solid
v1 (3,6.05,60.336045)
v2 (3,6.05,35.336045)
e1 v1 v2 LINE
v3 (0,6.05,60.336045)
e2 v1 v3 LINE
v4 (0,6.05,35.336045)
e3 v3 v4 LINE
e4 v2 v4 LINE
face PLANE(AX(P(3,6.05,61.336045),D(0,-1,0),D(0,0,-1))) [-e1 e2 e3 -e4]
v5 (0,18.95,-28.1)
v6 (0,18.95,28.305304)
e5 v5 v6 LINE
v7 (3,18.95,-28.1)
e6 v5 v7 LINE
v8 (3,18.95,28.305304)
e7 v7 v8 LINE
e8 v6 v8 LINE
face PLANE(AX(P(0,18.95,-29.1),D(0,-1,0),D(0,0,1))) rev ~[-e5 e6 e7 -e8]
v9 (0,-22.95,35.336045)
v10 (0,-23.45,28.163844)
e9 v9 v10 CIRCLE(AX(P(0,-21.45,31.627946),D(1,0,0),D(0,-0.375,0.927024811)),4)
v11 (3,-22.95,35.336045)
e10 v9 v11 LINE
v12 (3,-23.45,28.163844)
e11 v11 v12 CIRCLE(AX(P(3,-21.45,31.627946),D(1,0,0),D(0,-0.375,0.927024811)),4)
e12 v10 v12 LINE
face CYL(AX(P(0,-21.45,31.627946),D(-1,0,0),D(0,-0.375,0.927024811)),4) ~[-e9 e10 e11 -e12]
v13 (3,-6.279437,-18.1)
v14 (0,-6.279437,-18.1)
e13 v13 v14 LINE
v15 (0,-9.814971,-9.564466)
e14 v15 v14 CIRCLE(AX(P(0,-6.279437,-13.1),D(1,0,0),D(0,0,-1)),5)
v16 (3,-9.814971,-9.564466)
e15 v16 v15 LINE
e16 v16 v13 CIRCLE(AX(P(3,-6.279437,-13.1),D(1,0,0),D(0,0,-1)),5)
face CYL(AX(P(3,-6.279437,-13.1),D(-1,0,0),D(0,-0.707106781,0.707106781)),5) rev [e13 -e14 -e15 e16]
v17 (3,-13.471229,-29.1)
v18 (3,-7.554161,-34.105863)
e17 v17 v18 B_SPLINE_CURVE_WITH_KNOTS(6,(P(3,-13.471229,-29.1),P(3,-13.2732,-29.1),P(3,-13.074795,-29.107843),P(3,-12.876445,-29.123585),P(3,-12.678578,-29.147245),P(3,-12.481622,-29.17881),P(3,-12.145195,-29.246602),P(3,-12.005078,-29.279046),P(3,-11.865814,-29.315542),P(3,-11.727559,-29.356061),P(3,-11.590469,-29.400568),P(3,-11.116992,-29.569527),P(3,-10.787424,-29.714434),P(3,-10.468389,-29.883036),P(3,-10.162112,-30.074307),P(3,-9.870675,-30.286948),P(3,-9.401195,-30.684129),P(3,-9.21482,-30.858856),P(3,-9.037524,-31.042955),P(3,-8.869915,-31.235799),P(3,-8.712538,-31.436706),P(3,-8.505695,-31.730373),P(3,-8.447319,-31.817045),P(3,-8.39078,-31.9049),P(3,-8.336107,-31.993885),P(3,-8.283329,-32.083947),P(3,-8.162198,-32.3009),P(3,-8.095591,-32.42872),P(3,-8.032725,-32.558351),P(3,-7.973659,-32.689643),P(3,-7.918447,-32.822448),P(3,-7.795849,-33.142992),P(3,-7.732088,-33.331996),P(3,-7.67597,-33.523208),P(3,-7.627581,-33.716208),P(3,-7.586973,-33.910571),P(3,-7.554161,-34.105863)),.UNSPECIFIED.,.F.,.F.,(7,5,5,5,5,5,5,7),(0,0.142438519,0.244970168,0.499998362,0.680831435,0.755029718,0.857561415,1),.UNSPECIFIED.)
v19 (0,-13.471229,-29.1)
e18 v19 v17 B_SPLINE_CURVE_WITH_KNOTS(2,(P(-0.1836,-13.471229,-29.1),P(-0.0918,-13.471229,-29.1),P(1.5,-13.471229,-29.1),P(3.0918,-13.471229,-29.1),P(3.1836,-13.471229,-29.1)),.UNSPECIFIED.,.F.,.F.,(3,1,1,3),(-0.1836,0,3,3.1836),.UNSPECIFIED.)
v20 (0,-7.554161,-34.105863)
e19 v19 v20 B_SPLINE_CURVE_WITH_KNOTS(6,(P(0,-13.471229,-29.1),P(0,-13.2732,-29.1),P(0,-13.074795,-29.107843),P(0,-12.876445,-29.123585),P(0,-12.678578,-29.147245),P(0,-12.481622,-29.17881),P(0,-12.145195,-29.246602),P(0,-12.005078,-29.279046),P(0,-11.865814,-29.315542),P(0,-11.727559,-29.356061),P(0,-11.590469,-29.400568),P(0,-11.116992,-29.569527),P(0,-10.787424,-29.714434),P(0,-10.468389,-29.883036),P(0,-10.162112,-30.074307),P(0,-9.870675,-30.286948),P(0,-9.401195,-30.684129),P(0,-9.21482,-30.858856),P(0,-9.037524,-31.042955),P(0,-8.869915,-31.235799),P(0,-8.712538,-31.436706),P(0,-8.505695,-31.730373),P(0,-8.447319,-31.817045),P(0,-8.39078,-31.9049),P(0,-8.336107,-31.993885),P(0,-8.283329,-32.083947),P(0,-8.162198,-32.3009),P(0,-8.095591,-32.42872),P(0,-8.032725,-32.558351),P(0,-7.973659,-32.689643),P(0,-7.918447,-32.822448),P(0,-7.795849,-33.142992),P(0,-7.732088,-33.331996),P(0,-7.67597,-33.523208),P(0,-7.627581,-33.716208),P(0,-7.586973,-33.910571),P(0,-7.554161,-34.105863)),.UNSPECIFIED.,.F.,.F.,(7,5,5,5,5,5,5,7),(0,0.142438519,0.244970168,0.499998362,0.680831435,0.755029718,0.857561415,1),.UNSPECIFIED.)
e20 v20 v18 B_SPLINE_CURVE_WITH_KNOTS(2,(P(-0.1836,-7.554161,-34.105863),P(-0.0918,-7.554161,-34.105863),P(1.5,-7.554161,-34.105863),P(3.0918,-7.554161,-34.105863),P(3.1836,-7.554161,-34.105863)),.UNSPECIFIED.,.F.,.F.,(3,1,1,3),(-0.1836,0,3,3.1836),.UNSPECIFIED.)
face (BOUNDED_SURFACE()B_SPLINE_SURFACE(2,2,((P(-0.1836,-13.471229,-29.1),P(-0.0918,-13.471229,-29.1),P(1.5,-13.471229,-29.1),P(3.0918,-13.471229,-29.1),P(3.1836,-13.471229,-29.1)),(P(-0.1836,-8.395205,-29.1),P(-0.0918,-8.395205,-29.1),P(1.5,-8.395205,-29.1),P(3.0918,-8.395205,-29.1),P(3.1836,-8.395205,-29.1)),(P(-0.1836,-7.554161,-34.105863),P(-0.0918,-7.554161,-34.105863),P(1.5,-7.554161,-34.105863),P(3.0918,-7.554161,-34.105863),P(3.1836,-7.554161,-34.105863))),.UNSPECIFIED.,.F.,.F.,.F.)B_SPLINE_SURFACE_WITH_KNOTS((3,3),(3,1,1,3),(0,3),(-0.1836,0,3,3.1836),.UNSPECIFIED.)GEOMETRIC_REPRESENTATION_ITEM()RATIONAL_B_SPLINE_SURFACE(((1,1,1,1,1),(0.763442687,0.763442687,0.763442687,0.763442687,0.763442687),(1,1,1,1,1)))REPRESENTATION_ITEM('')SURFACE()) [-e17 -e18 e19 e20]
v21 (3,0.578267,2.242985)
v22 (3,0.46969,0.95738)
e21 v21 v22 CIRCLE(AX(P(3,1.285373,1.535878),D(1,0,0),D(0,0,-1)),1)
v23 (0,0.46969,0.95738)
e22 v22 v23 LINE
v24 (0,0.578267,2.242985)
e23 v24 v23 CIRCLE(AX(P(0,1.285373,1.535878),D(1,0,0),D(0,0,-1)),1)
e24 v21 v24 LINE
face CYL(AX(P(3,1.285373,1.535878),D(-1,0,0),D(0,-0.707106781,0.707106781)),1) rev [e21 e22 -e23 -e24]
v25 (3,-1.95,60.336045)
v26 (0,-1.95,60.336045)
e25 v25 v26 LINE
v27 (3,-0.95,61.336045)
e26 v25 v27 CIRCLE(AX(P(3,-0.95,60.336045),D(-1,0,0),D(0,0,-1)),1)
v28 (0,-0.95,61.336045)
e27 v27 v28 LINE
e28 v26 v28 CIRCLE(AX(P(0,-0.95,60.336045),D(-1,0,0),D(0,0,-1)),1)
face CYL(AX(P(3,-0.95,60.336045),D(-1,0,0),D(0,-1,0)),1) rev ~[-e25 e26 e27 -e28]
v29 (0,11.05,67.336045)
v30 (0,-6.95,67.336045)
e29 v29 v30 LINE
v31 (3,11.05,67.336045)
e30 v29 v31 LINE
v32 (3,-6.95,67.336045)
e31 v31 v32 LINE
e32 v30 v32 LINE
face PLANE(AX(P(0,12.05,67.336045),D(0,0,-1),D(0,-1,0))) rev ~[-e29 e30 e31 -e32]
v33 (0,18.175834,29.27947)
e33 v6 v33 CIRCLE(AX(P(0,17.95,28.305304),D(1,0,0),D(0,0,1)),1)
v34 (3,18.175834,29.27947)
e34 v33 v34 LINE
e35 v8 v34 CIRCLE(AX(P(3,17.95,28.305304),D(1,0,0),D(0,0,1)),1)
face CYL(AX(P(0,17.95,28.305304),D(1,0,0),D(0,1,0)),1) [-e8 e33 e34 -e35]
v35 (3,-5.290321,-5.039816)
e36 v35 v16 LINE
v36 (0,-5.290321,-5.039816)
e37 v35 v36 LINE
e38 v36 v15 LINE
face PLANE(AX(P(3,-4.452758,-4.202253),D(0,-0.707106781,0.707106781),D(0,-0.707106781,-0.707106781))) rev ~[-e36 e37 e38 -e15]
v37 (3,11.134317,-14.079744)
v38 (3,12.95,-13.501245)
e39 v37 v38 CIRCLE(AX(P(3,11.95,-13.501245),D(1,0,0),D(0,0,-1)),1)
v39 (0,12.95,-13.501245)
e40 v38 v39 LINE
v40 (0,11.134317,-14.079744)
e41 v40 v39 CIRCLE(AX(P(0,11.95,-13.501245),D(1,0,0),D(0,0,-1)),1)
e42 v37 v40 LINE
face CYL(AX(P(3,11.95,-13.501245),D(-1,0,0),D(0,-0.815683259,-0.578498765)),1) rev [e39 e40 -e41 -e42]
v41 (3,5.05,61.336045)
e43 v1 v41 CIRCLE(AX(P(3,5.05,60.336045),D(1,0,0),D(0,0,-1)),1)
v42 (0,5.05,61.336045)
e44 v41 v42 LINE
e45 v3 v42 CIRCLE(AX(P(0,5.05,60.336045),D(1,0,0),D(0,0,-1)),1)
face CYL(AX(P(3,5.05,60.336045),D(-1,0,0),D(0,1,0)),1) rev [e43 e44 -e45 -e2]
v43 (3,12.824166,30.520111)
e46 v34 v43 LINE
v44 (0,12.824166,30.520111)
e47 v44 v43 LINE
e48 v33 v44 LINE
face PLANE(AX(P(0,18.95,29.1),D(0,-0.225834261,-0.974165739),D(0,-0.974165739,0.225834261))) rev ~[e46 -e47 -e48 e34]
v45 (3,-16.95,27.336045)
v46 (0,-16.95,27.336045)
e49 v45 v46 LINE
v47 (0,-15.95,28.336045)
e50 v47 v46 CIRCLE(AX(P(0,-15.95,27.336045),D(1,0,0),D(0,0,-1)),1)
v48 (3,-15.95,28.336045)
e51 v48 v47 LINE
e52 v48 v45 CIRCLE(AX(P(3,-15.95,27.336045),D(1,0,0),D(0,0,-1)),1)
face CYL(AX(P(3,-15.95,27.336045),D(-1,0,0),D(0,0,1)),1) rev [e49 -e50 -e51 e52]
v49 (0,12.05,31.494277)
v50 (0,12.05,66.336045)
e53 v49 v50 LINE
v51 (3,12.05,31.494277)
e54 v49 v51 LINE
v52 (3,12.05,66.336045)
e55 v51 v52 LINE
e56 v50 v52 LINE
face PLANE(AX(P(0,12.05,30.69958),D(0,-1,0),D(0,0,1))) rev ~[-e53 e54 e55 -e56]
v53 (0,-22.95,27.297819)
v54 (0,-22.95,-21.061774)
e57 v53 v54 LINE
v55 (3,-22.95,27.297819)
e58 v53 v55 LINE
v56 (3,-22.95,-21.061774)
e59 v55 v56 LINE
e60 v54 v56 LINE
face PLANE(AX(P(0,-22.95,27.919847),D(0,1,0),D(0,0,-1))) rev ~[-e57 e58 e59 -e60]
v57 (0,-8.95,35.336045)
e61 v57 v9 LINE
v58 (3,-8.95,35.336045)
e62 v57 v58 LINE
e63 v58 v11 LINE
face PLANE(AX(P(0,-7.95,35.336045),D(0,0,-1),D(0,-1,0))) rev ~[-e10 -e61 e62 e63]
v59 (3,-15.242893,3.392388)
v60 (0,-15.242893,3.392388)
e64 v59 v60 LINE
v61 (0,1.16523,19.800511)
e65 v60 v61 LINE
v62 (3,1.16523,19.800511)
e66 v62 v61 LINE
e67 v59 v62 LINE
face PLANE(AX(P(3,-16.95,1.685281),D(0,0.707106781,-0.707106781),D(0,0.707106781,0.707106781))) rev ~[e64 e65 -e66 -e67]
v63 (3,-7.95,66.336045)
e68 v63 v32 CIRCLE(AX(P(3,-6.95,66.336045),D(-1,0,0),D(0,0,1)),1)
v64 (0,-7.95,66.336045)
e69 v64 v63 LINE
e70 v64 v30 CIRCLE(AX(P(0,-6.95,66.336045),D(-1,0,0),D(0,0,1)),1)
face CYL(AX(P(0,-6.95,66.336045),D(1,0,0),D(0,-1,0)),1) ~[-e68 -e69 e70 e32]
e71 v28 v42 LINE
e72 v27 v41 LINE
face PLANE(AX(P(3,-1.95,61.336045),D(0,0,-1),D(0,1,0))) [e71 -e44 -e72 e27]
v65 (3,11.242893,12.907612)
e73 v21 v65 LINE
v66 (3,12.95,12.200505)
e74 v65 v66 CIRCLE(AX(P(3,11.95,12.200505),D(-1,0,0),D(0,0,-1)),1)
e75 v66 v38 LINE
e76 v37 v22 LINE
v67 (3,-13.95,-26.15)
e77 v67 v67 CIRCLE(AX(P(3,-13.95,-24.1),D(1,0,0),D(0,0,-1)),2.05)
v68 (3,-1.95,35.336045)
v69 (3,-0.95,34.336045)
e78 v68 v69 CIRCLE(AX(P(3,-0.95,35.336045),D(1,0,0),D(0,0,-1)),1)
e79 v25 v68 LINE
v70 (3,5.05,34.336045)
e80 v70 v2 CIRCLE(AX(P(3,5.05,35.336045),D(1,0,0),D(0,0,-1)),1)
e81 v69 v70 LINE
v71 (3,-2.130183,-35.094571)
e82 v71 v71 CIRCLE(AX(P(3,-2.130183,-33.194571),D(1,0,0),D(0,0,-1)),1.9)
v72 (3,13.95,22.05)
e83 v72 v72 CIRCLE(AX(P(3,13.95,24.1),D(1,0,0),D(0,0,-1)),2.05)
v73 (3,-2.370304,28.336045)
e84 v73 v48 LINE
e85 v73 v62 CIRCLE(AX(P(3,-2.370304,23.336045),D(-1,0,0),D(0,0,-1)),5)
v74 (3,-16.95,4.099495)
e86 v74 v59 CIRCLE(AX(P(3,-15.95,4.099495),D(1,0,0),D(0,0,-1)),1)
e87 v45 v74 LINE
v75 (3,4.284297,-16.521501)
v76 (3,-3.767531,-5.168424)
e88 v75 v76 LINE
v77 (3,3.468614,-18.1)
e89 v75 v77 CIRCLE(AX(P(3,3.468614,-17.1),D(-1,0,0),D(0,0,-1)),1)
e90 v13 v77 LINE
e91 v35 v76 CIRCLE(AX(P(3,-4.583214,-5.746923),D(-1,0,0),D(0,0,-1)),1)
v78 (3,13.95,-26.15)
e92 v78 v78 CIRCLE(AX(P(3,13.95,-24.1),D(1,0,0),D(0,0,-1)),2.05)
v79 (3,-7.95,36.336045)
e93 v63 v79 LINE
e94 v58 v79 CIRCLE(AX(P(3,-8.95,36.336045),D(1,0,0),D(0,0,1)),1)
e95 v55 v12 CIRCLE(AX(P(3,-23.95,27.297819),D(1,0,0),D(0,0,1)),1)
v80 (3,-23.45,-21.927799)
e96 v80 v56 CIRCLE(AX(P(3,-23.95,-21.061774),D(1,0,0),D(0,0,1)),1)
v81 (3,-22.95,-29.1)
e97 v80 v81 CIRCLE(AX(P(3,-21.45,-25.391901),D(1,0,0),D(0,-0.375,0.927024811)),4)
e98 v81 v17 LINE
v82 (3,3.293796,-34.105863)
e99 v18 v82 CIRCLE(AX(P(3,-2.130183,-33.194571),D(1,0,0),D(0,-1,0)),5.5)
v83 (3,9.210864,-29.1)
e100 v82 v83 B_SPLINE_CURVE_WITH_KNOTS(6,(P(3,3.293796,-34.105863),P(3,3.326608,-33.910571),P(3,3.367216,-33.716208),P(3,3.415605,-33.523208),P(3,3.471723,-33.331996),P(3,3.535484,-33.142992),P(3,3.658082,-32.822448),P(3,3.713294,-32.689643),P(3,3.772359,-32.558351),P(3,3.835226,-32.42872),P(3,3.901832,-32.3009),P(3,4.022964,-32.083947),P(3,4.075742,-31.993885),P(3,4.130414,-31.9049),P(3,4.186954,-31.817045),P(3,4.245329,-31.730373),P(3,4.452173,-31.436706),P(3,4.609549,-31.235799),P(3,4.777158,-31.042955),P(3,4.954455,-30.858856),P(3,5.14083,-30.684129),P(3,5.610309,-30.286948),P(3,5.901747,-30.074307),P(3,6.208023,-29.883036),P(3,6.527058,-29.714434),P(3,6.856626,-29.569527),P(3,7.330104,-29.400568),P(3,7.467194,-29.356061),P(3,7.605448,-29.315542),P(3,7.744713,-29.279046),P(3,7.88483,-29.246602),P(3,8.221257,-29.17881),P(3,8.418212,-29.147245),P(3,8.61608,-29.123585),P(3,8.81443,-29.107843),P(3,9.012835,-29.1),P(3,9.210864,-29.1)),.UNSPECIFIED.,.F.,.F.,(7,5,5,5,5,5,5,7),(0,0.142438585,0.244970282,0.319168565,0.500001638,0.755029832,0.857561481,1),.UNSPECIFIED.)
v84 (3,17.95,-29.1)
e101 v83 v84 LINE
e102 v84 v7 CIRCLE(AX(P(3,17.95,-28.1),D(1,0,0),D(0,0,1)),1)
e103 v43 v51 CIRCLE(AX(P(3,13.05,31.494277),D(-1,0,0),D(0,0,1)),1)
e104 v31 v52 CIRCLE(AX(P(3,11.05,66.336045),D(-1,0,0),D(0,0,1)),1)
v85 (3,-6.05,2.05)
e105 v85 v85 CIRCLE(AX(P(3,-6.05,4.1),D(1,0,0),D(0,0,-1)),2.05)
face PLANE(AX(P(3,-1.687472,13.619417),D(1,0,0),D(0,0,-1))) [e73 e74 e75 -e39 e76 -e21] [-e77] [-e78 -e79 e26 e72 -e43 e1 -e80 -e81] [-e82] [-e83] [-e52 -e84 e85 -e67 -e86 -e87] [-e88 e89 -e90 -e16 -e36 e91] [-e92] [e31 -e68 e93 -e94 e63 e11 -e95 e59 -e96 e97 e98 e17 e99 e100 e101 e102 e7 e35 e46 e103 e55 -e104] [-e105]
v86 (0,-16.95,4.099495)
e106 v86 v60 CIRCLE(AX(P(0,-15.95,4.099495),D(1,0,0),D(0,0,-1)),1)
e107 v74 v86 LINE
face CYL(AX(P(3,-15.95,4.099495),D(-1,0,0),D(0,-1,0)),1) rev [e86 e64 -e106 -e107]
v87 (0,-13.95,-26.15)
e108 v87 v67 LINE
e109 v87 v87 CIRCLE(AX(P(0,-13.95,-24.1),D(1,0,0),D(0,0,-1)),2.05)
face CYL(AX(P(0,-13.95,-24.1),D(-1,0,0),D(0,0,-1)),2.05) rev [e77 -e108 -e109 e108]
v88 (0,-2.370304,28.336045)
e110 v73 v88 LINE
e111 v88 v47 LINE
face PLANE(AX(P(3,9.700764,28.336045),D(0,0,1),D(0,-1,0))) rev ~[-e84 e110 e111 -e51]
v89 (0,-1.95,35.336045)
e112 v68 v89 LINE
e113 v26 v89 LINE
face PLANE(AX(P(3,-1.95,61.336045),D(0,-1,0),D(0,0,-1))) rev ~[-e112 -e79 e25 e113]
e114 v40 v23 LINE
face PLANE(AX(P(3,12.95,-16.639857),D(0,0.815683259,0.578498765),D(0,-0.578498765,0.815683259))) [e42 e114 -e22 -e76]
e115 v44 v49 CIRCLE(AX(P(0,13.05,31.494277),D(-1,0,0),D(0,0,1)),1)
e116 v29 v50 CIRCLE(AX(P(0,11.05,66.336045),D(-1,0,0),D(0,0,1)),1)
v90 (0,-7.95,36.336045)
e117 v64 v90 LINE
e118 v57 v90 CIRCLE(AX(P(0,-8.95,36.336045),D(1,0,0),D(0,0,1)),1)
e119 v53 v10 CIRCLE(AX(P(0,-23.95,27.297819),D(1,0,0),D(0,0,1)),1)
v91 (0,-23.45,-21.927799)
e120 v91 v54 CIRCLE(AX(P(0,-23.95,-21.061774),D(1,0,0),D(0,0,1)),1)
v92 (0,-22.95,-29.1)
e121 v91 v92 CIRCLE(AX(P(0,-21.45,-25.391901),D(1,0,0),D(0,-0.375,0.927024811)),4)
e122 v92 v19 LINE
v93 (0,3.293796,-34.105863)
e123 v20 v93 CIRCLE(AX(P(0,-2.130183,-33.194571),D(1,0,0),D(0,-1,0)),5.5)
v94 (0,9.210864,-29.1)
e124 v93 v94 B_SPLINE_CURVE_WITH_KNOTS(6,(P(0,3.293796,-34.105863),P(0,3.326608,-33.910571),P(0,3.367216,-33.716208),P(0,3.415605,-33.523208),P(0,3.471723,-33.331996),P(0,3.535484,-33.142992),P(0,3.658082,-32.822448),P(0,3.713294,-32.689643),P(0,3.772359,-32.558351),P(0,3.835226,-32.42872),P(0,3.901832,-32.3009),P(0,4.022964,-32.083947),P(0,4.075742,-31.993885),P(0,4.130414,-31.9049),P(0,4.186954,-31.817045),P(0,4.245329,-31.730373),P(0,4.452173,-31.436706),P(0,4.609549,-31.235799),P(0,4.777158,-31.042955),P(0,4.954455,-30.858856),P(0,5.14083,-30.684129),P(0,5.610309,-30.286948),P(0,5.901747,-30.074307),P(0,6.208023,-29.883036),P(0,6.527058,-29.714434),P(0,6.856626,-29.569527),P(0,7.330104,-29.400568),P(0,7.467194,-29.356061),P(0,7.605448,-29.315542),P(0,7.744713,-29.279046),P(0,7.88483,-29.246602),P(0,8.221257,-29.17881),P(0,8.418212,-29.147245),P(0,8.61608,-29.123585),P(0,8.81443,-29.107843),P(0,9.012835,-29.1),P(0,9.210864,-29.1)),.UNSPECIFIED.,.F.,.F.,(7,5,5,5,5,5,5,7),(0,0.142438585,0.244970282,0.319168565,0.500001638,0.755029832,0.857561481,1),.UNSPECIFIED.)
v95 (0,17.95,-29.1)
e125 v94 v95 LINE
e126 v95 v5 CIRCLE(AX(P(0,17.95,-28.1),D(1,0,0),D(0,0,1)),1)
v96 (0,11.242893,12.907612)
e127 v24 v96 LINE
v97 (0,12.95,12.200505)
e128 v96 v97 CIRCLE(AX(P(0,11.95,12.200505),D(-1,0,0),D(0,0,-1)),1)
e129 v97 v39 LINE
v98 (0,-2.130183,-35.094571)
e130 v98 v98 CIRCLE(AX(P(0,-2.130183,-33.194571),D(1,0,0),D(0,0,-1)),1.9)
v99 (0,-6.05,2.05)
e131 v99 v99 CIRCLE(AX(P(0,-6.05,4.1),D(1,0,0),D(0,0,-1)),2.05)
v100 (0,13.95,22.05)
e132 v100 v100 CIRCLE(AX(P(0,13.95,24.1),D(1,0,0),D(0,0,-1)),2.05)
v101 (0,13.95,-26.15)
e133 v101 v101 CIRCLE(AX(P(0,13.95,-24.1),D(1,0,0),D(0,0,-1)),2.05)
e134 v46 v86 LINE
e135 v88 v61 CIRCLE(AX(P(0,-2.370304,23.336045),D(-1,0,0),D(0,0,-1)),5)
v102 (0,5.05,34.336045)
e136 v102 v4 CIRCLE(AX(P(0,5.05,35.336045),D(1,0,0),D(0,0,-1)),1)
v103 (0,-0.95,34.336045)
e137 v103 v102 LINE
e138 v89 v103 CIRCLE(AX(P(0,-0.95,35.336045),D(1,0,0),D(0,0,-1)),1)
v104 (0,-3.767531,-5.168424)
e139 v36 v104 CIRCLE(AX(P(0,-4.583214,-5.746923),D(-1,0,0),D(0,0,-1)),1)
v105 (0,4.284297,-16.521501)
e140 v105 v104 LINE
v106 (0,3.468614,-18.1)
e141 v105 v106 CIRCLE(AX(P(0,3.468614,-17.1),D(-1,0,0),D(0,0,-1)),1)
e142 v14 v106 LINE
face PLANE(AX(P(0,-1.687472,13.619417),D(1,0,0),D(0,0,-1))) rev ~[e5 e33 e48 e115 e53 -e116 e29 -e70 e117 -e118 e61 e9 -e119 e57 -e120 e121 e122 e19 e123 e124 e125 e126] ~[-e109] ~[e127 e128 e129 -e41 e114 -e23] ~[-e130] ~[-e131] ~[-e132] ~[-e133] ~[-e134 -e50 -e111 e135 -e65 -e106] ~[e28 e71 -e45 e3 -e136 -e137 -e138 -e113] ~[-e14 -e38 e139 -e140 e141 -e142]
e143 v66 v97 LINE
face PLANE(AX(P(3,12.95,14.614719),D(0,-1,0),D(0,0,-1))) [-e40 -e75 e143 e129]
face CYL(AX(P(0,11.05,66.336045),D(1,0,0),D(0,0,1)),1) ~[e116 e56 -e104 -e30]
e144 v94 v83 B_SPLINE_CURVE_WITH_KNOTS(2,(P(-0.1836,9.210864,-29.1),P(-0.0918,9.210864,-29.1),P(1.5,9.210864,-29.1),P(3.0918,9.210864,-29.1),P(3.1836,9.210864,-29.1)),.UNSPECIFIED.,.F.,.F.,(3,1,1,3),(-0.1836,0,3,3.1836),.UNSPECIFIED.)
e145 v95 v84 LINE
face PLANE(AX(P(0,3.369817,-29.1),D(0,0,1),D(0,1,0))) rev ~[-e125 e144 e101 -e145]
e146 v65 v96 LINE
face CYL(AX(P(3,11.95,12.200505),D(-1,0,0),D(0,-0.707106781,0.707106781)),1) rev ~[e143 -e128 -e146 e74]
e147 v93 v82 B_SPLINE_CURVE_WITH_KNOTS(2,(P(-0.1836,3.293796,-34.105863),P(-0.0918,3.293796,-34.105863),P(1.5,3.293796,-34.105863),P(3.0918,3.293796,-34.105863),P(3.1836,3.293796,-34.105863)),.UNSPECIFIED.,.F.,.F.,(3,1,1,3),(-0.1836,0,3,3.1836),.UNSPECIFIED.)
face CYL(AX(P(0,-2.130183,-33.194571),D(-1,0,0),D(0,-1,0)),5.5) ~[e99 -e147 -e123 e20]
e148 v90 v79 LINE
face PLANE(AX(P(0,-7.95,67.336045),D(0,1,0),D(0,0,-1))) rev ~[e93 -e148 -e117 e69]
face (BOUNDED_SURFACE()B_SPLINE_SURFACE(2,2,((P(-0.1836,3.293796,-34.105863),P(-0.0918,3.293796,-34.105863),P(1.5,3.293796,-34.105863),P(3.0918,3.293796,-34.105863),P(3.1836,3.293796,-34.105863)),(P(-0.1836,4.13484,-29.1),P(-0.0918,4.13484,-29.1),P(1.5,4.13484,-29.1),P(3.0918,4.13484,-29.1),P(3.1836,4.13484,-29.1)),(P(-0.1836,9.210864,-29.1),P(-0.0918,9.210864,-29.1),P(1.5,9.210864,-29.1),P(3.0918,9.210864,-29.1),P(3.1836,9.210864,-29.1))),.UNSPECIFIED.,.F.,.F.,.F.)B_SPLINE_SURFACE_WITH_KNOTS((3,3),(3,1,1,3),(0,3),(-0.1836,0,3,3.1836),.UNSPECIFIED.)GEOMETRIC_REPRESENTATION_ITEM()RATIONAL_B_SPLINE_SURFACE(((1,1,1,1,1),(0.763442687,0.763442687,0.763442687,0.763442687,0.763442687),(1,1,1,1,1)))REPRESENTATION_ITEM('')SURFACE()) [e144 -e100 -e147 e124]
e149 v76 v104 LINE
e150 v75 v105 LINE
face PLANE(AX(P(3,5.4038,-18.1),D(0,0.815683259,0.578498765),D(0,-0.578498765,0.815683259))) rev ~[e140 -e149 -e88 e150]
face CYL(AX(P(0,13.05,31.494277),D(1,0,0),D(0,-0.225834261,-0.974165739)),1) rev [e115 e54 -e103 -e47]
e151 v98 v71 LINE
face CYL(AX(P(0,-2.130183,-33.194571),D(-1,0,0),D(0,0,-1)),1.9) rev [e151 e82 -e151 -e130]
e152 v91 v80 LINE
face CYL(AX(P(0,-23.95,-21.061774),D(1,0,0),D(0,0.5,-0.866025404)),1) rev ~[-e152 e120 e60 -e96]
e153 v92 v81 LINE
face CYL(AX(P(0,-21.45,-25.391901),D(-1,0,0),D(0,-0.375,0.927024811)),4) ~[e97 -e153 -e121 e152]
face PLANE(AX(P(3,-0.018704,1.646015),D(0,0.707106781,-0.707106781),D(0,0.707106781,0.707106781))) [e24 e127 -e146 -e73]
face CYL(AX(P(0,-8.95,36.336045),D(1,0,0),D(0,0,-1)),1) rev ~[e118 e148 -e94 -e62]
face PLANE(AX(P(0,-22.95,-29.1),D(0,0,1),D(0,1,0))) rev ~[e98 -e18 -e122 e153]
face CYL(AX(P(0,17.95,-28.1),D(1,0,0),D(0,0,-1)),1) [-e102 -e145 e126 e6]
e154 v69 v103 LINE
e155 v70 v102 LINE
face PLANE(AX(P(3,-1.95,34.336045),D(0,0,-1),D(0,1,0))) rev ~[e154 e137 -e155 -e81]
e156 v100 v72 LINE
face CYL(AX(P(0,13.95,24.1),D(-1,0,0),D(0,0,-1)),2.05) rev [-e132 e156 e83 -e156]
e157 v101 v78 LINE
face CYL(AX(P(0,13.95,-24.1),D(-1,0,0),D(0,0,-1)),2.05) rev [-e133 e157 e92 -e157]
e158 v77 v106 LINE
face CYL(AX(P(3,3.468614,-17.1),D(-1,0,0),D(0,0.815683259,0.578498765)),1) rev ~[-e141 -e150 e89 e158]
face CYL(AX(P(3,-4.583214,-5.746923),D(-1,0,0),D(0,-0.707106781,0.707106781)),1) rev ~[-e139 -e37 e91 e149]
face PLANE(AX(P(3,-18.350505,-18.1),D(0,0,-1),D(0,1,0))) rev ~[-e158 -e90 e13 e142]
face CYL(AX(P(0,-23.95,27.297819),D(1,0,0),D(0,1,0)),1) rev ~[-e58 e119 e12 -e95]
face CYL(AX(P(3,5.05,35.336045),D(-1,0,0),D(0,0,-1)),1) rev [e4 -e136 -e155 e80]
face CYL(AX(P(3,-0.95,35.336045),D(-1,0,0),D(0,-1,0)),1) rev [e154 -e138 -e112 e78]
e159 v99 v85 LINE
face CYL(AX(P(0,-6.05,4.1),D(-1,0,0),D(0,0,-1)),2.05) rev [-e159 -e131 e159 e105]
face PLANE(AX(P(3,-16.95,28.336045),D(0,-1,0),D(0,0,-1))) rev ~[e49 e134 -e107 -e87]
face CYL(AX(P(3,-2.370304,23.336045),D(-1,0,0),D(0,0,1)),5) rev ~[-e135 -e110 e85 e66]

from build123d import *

# Parameters (mm, degrees)
SKETCH_1_R          = 2.05
SKETCH_1_R_2        = 1.9
EXTRUDE_1_DEPTH     = 3
SKETCH_2_W          = 27
SKETCH_2_H          = 8
CUT_EXTRUDE_1_DEPTH = 3
FILLET_1_R          = 5
FILLET_2_R          = 1
FILLET_3_R          = 6


with BuildPart() as part:
    # 草图1 → 凸台-拉伸1 (new body)
    with BuildSketch(Plane(origin=(0, 0, 0), x_dir=(0, 0, -1), z_dir=(1, 0, 0))):
        with BuildLine():
            Line((29.1, -22.95), (29.1, -7.630182627))
            Line((29.1, -7.630182627), (33.194571076, -7.630182627))
            ThreePointArc((33.194571076, -7.630182627), (38.694571076, -2.130182627), (33.194571076, 3.369817373))
            Line((33.194571076, 3.369817373), (29.1, 3.369817373))
            Line((29.1, 3.369817373), (29.1, 18.95))
            Line((29.1, 18.95), (-29.1, 18.95))
            Line((-29.1, 18.95), (-30.699580381, 12.05))
            Line((-30.699580381, 12.05), (-67.336045252, 12.05))
            Line((-67.336045252, 12.05), (-67.336045252, -7.95))
            Line((-67.336045252, -7.95), (-35.336045252, -7.95))
            Line((-35.336045252, -7.95), (-35.336045252, -22.95))
            ThreePointArc((-35.336045252, -22.95), (-31.627946009, -25.45), (-27.919846765, -22.95))
            Line((-27.919846765, -22.95), (21.683801513, -22.95))
            ThreePointArc((21.683801513, -22.95), (25.391900756, -25.45), (29.1, -22.95))
        make_face()
        with Locations((-24.1, 13.95)):
            Circle(SKETCH_1_R, mode=Mode.SUBTRACT)
        with Locations((24.1, 13.95)):
            Circle(SKETCH_1_R, mode=Mode.SUBTRACT)
        with Locations((24.1, -13.95)):
            Circle(SKETCH_1_R, mode=Mode.SUBTRACT)
        with Locations((-4.1, -6.05)):
            Circle(SKETCH_1_R, mode=Mode.SUBTRACT)
        with Locations((33.194571076, -2.130182627)):
            Circle(SKETCH_1_R_2, mode=Mode.SUBTRACT)
    extrude(amount=EXTRUDE_1_DEPTH)

    # 草图2 → 切除-拉伸1 (cut)
    with BuildSketch(Plane(origin=(3, 0, 0), x_dir=(0, 0, -1), z_dir=(1, 0, 0))):
        Polygon((-28.336045252, 9.700763878), (-28.336045252, -16.95), (-1.685281374, -16.95), align=None)
        with Locations((-47.836045252, 2.05)):
            Rectangle(SKETCH_2_W, SKETCH_2_H)
        Polygon((18.1, 5.403799603), (4.202253287, -4.45275835), (18.1, -18.350505063), align=None)
        Polygon((-14.614718626, 12.95), (16.63985744, 12.95), (-1.646014864, -0.018703762), align=None)
    extrude(amount=-CUT_EXTRUDE_1_DEPTH, mode=Mode.SUBTRACT)

    # 圆角1
    fillet_1_edges = [part.edges().sort_by_distance(p)[0] for p in [
        (1.5, -18.350505063, -18.1),
        (1.5, 9.700763878, 28.336045252),
    ]]
    fillet(fillet_1_edges, radius=FILLET_1_R)

    # 圆角2
    fillet_2_edges = [part.edges().sort_by_distance(p)[0] for p in [
        (1.5, 18.95, 29.1),
        (1.5, 18.95, -29.1),
        (1.5, -22.95, -21.683801513),
        (1.5, -22.95, 27.919846765),
        (1.5, -7.95, 35.336045252),
        (1.5, -7.95, 67.336045252),
        (1.5, 12.05, 67.336045252),
        (1.5, 12.05, 30.699580381),
        (1.5, -1.95, 61.336045252),
        (1.5, 6.05, 61.336045252),
        (1.5, 6.05, 34.336045252),
        (1.5, -1.95, 34.336045252),
        (1.5, -0.018703762, 1.646014864),
        (1.5, 12.95, 14.614718626),
        (1.5, 12.95, -16.63985744),
        (1.5, 5.403799603, -18.1),
        (1.5, -4.45275835, -4.202253287),
        (1.5, -16.95, 1.685281374),
        (1.5, -16.95, 28.336045252),
    ]]
    fillet(fillet_2_edges, radius=FILLET_2_R)

    # 圆角3
    fillet_3_edges = [part.edges().sort_by_distance(p)[0] for p in [
        (1.5, -7.630182627, -29.1),
        (1.5, 3.369817373, -29.1),
    ]]
    fillet(fillet_3_edges, radius=FILLET_3_R)


solid = part.part
